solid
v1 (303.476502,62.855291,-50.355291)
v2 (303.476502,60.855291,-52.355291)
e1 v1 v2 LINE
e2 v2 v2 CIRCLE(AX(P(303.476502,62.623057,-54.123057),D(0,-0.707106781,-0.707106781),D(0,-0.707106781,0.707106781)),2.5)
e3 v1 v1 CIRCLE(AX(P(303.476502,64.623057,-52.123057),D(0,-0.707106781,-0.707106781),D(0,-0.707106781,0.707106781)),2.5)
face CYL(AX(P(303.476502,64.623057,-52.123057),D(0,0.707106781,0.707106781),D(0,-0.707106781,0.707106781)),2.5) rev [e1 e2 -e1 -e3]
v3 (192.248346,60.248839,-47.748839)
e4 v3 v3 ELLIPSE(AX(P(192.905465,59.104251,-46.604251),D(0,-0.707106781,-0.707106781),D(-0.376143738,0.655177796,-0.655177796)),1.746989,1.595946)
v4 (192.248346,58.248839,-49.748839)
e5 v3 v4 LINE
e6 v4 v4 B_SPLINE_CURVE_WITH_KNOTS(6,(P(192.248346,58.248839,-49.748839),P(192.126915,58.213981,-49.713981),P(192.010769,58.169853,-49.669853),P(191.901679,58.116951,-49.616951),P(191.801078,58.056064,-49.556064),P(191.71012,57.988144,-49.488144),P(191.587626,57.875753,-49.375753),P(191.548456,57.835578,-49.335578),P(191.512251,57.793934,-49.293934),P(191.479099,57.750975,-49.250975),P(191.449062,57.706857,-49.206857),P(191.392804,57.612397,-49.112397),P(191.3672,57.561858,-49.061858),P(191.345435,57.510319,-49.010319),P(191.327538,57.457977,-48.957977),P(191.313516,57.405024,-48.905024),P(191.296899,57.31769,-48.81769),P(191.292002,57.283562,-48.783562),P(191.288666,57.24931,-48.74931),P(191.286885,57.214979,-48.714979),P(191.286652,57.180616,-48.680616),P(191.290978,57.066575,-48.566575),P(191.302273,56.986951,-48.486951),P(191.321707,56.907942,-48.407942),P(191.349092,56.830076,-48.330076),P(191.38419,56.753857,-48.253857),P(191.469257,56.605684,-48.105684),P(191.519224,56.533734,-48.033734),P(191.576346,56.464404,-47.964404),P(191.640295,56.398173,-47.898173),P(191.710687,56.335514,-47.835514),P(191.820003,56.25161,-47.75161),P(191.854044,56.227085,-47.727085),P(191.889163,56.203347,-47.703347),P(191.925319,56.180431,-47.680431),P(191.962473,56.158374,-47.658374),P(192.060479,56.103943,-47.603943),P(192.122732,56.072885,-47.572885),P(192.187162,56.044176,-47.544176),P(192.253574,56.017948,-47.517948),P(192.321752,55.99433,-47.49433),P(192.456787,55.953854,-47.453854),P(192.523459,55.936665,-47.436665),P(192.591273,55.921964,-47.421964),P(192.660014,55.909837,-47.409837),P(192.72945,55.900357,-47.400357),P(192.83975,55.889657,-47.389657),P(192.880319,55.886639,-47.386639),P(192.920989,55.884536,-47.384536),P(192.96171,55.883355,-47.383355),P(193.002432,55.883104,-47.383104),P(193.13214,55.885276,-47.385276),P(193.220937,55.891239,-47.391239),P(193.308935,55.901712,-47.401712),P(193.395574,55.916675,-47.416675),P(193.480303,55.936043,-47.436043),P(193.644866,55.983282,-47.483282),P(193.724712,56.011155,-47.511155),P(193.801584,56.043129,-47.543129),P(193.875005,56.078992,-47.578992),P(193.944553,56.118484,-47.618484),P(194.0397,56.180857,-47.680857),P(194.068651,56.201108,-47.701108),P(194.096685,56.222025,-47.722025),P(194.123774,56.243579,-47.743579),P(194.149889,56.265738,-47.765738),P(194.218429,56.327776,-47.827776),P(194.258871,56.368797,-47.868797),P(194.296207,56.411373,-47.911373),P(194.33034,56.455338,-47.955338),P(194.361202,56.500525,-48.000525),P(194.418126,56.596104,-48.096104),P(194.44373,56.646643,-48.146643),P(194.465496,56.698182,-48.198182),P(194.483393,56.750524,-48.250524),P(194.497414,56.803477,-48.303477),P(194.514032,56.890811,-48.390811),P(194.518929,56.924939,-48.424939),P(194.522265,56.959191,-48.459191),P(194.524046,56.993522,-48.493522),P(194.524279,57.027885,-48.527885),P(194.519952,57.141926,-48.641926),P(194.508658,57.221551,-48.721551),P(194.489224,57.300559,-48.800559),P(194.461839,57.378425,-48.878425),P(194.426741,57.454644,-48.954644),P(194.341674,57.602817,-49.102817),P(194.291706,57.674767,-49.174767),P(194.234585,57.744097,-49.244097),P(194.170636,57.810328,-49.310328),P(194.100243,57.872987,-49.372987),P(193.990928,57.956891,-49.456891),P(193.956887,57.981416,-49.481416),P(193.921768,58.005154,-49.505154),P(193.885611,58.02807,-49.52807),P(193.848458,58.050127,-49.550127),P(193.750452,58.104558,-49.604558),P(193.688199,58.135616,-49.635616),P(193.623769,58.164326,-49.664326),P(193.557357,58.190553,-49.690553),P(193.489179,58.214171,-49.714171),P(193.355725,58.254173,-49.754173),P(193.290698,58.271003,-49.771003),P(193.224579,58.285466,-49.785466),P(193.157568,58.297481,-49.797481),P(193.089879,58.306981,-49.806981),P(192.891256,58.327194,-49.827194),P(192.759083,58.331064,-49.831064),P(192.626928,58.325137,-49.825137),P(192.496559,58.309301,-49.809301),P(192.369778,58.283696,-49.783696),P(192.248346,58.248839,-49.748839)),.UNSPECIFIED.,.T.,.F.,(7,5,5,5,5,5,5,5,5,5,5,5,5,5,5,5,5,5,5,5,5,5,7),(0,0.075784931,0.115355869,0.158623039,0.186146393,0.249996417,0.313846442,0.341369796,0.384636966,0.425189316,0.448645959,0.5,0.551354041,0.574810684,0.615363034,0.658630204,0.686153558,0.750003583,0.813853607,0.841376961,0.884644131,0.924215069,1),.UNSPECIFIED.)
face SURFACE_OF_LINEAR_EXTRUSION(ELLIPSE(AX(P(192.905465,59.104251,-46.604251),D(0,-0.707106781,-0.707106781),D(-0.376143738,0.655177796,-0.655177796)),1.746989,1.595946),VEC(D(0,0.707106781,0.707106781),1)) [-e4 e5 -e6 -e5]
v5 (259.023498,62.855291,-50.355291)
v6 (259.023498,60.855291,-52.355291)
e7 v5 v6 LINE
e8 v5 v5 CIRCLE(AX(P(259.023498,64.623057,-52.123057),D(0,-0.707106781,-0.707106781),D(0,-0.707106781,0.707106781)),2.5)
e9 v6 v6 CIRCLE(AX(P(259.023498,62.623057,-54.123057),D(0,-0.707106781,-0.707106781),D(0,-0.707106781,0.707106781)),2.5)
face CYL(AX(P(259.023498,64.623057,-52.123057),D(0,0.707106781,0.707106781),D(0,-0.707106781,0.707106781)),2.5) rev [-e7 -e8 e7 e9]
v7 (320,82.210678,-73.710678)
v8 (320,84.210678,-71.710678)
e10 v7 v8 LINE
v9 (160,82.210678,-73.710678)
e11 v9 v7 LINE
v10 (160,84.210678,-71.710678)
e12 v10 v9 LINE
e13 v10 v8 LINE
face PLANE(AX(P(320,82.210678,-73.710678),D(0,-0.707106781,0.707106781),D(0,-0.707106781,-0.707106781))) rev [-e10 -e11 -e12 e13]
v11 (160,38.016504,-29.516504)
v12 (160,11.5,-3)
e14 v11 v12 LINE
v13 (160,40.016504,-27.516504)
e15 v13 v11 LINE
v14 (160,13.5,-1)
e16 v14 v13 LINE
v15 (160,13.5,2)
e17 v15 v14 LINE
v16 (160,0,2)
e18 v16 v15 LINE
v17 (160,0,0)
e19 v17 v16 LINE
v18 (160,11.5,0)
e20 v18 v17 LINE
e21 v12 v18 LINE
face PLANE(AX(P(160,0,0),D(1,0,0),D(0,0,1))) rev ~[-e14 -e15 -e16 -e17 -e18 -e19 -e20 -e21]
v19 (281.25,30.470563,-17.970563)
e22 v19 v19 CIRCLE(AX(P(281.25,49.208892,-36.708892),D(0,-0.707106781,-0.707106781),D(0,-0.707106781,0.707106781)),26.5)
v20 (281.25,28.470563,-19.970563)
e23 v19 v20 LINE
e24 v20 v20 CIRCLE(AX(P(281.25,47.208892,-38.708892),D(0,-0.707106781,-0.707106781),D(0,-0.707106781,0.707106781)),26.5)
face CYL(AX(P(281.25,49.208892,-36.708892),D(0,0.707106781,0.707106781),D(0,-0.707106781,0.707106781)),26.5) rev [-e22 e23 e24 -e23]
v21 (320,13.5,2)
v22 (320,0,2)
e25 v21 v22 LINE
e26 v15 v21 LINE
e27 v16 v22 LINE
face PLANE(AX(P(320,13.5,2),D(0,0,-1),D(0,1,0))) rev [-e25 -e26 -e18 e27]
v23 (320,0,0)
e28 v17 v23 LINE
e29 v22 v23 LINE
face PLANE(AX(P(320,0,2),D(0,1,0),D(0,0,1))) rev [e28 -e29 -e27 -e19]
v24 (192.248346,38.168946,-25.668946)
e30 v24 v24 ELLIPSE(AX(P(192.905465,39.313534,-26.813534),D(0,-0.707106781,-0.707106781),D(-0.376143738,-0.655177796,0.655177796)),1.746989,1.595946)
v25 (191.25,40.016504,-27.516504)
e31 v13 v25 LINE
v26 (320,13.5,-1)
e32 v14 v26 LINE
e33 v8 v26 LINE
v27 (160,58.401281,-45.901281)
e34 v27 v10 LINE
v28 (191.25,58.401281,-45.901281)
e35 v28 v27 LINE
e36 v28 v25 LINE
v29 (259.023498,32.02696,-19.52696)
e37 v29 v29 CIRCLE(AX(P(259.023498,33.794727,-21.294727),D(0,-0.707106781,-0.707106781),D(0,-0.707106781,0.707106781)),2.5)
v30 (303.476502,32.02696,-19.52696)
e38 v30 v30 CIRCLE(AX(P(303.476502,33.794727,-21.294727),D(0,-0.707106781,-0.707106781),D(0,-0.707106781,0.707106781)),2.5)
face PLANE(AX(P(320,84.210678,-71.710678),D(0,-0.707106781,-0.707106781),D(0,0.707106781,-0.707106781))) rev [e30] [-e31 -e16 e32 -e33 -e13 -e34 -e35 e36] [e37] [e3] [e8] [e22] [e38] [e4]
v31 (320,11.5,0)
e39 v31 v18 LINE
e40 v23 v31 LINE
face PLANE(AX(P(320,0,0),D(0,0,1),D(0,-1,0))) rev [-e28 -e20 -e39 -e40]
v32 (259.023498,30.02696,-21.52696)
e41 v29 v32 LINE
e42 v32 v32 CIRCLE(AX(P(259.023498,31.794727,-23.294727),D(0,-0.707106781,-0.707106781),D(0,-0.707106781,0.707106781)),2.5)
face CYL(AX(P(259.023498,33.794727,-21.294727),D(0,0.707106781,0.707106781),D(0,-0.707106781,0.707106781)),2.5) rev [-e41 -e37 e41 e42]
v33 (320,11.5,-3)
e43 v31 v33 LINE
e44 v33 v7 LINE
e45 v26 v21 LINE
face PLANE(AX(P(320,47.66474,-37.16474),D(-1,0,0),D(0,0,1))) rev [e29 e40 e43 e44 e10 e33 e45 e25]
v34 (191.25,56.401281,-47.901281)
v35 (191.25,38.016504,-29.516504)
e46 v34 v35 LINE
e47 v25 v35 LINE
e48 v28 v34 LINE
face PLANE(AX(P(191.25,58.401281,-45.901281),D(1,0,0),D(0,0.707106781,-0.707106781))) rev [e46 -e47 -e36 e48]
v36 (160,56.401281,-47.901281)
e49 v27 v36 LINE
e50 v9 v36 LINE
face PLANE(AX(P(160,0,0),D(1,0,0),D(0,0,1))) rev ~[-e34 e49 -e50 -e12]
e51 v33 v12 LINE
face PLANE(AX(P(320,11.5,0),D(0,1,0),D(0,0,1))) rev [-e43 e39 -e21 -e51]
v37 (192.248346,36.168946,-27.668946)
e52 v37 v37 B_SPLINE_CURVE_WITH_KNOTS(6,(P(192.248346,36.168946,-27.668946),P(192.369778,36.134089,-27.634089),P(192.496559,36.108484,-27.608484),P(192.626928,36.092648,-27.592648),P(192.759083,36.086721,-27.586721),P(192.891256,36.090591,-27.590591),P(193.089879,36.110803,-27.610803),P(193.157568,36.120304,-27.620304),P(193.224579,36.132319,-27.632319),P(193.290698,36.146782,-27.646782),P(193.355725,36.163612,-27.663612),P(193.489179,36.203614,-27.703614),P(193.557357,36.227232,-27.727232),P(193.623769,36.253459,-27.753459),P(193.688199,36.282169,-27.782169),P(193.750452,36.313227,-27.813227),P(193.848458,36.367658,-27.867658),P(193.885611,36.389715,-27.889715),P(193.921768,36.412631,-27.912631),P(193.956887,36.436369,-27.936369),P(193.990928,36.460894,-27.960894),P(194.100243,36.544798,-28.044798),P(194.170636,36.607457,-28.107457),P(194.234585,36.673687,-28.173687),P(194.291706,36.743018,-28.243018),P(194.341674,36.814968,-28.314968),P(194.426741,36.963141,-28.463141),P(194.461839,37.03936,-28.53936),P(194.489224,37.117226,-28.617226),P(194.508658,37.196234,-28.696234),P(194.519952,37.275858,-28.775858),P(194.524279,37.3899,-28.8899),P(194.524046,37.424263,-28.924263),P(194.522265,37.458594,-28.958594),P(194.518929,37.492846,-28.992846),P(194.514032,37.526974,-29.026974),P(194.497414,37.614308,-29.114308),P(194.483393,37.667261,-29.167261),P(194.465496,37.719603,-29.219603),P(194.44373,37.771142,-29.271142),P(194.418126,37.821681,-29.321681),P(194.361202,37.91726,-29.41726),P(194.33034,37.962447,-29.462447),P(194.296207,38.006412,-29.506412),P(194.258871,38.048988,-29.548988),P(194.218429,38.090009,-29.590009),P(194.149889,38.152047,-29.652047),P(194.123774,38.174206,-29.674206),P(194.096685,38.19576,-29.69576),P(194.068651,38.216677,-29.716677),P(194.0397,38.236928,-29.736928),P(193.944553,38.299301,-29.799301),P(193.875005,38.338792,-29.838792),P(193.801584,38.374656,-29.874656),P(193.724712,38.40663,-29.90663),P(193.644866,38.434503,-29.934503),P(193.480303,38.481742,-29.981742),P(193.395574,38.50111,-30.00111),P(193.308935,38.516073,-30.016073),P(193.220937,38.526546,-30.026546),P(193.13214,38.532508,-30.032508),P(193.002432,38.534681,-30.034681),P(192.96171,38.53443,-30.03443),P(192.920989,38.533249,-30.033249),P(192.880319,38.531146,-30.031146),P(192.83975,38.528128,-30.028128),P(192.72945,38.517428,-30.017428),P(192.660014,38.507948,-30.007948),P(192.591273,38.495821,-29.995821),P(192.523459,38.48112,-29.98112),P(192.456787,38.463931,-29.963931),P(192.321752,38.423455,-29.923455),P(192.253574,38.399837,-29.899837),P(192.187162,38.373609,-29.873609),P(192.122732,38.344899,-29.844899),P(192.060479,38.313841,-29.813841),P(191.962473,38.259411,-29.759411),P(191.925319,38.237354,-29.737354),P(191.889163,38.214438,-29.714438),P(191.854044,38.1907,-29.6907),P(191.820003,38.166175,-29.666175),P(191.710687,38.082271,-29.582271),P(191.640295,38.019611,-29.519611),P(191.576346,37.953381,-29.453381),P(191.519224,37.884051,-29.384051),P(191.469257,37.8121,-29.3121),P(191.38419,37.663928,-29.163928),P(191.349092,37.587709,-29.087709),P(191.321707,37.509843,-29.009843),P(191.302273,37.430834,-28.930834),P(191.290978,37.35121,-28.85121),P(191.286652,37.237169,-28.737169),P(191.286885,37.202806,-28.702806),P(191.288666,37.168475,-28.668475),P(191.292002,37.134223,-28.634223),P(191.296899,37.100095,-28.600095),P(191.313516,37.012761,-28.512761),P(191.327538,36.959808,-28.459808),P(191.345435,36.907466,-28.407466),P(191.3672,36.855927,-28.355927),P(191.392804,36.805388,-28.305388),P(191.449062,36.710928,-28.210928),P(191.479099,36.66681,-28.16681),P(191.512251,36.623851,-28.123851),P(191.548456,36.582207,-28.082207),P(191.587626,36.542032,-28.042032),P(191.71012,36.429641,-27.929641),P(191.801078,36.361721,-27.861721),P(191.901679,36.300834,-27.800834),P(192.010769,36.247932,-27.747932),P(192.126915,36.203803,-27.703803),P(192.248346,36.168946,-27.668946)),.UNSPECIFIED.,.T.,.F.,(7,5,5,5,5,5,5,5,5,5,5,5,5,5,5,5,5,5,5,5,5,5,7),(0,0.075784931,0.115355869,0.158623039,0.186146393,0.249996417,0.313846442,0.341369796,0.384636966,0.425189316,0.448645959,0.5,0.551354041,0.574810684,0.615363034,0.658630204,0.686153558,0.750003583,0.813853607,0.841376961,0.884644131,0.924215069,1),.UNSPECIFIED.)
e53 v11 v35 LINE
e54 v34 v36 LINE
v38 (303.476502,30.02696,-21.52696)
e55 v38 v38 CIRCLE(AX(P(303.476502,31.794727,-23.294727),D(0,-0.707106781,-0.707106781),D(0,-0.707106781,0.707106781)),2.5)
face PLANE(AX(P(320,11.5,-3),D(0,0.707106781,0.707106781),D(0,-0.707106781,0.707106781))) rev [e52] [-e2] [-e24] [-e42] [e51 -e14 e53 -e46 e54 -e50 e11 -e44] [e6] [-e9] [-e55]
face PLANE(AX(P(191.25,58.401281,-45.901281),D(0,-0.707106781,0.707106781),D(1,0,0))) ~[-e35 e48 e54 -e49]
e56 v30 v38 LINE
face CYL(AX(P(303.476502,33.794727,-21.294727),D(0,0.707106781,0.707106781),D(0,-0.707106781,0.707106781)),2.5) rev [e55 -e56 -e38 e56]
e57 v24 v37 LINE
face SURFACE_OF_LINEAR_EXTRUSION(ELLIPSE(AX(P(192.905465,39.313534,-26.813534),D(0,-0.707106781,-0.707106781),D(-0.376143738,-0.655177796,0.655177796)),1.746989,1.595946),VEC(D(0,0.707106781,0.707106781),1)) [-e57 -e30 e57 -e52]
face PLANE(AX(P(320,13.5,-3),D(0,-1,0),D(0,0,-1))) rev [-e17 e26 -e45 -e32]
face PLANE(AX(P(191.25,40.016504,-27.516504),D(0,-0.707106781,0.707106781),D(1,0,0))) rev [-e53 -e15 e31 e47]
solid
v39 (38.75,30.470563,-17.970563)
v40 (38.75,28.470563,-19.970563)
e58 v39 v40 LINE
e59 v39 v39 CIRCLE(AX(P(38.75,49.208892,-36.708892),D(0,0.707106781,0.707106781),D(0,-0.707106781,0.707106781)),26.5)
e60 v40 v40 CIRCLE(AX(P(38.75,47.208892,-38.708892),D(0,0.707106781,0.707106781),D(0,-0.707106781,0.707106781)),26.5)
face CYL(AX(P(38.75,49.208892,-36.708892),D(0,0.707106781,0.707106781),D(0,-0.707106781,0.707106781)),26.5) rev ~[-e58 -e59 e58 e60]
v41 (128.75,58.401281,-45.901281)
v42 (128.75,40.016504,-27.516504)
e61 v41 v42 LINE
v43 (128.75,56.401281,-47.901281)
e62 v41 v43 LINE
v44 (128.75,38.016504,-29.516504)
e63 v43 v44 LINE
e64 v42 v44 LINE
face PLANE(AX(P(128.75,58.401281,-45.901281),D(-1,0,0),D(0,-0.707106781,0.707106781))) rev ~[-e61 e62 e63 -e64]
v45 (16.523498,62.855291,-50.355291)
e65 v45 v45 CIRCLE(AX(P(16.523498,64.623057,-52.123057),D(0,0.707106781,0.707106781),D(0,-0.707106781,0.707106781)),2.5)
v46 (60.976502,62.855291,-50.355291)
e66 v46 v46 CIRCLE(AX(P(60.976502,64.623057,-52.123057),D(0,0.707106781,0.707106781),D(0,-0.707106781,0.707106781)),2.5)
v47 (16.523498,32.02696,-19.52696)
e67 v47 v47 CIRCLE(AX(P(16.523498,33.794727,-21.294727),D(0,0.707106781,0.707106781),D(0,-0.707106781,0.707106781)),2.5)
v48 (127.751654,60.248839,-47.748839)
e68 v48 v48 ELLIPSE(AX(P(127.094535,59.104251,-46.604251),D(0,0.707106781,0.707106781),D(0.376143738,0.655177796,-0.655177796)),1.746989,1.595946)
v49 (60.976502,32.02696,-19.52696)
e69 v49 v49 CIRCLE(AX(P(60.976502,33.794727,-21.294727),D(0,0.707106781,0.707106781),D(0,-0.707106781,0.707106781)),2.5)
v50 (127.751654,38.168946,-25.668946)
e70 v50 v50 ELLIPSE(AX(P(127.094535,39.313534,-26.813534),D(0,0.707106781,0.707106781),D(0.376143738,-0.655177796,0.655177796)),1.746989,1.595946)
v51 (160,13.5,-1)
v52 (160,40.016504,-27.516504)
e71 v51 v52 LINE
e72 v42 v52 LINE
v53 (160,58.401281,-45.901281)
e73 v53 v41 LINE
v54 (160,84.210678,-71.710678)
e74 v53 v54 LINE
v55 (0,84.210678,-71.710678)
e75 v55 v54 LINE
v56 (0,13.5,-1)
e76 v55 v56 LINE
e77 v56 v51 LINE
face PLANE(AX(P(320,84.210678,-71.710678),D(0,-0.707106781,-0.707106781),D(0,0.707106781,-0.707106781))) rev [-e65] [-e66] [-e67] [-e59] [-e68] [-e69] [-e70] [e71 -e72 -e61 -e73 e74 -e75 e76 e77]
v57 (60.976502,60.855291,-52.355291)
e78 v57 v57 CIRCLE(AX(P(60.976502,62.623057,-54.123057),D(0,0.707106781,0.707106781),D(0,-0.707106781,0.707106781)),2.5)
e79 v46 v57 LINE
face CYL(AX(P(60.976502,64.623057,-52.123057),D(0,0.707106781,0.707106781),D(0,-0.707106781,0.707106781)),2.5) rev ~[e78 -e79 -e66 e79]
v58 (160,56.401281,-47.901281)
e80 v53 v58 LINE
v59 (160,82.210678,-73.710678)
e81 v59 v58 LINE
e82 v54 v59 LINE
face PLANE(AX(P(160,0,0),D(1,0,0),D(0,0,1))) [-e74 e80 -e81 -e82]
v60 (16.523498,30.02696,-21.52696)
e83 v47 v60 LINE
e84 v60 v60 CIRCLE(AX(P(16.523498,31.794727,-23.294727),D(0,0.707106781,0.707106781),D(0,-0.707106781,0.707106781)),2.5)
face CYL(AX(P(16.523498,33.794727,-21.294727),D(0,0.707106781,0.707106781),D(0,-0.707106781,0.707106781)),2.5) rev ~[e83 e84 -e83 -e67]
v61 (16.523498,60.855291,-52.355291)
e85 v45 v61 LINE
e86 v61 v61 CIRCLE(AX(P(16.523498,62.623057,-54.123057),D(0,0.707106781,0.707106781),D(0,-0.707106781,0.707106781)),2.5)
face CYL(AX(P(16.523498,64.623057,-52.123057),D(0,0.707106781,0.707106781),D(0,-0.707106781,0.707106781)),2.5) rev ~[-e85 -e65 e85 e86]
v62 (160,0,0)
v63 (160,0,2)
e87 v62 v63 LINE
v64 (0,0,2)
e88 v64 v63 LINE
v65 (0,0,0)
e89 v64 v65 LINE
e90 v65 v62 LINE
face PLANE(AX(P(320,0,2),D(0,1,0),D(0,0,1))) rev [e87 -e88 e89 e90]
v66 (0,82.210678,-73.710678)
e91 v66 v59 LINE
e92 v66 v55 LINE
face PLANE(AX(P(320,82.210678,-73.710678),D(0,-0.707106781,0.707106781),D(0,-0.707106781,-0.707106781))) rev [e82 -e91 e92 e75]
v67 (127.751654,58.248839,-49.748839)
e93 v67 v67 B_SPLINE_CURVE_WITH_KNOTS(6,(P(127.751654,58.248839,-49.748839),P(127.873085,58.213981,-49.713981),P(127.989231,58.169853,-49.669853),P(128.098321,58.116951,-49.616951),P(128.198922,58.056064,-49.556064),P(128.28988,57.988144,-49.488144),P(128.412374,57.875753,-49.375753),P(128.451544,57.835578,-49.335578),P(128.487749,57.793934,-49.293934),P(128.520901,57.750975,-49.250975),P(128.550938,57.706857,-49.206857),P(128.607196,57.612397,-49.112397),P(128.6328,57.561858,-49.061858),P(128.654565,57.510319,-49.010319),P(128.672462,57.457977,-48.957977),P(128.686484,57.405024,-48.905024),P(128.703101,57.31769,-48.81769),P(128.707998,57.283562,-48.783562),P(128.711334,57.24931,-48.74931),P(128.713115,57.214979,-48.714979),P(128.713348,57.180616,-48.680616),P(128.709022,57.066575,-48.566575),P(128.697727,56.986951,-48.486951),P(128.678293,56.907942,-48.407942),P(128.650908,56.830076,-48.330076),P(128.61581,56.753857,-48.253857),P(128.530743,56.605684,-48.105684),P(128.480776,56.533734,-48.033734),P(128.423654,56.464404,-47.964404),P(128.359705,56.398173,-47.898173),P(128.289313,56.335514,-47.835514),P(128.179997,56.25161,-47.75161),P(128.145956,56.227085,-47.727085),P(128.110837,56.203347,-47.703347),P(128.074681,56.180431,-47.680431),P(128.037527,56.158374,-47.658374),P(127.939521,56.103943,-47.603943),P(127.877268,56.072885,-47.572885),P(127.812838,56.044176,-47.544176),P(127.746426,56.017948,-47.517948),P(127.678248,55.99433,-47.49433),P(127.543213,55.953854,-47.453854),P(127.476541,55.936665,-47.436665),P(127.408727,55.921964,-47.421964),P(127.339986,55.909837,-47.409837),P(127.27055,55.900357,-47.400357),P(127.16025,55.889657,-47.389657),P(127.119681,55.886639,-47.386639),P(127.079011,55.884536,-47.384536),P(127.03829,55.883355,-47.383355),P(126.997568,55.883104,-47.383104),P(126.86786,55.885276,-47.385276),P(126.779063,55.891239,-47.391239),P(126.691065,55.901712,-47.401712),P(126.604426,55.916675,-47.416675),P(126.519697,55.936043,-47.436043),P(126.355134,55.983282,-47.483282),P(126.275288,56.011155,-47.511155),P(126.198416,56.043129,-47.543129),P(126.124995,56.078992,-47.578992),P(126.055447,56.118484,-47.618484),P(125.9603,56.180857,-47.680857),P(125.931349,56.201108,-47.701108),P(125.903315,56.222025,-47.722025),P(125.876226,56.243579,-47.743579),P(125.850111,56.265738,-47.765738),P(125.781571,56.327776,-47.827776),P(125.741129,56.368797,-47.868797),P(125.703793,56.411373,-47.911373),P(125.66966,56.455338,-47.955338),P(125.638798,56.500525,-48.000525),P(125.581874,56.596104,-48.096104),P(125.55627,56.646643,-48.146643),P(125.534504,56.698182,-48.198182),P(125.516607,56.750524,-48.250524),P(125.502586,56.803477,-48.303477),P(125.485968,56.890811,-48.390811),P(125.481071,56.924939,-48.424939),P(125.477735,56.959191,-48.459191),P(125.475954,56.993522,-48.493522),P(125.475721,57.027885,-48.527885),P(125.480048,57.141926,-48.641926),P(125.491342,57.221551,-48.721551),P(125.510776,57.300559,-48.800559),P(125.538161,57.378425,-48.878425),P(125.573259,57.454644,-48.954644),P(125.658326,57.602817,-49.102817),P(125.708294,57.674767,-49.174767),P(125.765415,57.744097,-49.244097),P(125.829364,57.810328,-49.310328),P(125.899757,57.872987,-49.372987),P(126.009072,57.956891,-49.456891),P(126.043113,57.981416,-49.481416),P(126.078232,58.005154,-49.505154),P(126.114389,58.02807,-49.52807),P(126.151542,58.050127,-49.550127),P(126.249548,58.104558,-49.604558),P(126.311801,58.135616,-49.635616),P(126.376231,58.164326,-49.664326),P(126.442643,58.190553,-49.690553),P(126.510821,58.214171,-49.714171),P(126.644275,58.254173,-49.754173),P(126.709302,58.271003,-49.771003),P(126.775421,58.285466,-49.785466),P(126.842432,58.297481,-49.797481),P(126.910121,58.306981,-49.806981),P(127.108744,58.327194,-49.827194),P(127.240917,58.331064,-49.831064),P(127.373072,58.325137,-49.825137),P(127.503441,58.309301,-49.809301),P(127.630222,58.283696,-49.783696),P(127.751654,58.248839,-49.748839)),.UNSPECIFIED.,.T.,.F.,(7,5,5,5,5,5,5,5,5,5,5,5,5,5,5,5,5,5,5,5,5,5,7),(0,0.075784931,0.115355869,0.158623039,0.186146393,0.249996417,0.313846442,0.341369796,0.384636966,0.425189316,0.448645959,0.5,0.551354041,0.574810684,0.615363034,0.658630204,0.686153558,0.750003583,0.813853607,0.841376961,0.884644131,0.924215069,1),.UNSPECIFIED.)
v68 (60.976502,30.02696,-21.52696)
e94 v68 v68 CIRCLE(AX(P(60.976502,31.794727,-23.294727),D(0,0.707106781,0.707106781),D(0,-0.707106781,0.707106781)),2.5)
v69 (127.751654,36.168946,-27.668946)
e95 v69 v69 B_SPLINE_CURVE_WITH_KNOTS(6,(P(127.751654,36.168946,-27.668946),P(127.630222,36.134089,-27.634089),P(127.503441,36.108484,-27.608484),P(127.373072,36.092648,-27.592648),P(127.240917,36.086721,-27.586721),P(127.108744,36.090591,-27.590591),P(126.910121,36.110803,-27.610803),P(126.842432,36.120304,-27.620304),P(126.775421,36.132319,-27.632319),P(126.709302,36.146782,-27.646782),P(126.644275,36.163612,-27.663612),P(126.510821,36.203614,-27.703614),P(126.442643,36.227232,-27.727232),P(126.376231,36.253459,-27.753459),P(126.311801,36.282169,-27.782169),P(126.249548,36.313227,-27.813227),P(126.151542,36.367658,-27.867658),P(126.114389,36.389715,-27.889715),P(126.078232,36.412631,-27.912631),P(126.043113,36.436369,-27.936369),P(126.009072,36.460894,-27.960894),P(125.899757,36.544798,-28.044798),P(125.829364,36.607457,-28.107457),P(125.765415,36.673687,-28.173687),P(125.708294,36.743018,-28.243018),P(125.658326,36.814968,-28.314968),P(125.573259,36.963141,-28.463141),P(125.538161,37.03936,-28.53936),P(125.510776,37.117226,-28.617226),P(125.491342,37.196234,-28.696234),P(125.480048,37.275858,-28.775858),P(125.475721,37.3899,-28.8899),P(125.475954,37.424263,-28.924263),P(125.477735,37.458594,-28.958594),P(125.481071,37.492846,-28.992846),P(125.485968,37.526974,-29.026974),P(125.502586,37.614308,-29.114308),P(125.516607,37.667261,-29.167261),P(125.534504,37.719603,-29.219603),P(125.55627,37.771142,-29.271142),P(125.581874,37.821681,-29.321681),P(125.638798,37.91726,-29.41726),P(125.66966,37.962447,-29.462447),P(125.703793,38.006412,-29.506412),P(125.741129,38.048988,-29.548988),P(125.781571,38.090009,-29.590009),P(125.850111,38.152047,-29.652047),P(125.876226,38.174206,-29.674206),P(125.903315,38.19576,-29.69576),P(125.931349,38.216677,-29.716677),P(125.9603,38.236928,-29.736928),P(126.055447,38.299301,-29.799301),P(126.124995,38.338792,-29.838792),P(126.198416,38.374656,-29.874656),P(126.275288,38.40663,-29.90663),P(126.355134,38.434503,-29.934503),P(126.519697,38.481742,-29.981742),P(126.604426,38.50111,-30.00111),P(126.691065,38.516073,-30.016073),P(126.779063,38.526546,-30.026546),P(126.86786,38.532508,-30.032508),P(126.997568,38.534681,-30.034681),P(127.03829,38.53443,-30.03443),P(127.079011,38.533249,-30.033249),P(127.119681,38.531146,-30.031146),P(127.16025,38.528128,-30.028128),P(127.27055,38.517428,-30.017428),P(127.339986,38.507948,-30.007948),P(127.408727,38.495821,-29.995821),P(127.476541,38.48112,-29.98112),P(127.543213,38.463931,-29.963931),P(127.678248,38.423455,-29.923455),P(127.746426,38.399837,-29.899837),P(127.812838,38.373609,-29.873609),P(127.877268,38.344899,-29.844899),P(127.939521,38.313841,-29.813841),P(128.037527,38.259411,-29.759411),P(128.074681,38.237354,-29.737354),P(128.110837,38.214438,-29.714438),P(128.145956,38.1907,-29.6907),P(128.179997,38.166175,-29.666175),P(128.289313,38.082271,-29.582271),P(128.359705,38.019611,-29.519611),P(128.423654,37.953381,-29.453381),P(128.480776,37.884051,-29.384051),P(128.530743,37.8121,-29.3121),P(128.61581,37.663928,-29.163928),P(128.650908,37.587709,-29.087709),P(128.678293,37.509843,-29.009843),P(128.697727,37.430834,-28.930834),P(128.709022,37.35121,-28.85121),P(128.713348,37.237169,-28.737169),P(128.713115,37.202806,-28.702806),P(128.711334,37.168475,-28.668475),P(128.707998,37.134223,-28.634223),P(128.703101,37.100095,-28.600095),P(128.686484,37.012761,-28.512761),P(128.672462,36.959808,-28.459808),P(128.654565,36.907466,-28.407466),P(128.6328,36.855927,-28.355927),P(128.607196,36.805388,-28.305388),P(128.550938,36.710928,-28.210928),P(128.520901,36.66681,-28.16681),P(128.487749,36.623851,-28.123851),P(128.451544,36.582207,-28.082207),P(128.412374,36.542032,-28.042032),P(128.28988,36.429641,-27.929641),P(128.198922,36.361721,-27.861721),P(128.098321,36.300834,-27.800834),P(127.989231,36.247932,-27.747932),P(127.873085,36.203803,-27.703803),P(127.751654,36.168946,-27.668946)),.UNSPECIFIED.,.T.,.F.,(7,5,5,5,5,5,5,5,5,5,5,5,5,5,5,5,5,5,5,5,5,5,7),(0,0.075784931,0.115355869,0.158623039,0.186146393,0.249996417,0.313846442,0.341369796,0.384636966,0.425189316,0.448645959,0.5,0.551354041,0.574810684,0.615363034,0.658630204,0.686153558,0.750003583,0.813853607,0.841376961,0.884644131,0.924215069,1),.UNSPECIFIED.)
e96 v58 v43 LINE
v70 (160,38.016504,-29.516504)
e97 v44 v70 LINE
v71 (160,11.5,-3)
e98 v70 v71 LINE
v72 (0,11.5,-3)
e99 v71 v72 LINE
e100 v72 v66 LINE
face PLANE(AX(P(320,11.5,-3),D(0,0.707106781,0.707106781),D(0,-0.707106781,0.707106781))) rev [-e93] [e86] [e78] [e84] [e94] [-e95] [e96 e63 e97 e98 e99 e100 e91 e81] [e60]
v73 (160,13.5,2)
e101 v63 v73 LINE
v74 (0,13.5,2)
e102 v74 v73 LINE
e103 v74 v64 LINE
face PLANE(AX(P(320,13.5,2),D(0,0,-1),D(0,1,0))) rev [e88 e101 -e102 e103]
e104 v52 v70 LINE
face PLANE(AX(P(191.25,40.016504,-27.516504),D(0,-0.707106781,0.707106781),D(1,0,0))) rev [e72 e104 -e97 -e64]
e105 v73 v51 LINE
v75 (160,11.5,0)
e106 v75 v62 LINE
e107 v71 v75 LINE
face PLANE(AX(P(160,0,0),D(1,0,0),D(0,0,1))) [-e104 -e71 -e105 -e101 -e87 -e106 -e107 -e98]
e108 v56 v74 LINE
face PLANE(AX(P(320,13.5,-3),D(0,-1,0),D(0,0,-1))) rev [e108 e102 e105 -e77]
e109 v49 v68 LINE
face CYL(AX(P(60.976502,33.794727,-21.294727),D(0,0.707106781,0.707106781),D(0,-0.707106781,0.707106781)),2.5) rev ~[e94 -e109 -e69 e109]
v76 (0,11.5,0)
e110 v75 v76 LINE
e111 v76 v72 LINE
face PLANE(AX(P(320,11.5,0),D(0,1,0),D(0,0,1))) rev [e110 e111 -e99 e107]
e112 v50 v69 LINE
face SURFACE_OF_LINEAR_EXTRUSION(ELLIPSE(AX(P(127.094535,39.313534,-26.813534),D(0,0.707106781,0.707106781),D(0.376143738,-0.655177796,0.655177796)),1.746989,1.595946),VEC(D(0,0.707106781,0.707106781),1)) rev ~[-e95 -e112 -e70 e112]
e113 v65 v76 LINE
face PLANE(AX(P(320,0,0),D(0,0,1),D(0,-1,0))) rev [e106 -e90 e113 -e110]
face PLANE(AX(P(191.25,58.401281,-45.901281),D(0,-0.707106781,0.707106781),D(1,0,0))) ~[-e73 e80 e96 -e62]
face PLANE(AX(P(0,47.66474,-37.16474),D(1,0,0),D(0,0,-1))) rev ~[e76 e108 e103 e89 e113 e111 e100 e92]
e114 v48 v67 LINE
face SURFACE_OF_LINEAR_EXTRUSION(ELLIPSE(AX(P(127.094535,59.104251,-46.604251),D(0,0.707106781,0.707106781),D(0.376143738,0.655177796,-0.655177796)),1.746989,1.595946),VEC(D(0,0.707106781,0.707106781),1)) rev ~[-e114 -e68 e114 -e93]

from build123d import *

# Parameters (mm, degrees)
BOSS_EXTRUDE1_DEPTH = 160
BOSS_EXTRUDE2_DEPTH = 160
SKETCH4_W           = 31.25
SKETCH4_H           = 13.5
SKETCH4_H_2         = 12.5
CUT_EXTRUDE1_DEPTH  = 10
SKETCH5_RX          = 1.746988937
SKETCH5_RY          = 1.595946068
CUT_EXTRUDE2_DEPTH  = 10
SKETCH6_R           = 26.5
CUT_EXTRUDE3_DEPTH  = 10
SKETCH7_R           = 2.5
CUT_EXTRUDE4_DEPTH  = 10


with BuildPart() as part:
    # Sketch1 → Boss-Extrude1 (new body)
    with BuildSketch(Plane(origin=(0, 0, 0), x_dir=(0, 0, -1), z_dir=(1, 0, 0))):
        Polygon((0, 0), (0, 11.5), (3, 11.5), (3, 13.5), (-2, 13.5), (-2, 0), align=None)
    extrude(amount=BOSS_EXTRUDE1_DEPTH)

    # Sketch2 → Boss-Extrude2 (add)
    with BuildSketch(Plane(origin=(0, 0, 0), x_dir=(0, 0, -1), z_dir=(1, 0, 0))):
        Polygon((3, 13.5), (3, 11.5), (24.213203436, 32.713203436), (73.710678119, 82.210678119), (71.710678119, 84.210678119), (22.213203436, 34.713203436), (1, 13.5), align=None)
    extrude(amount=BOSS_EXTRUDE2_DEPTH)

    # Sketch4 → Cut-Extrude1 (cut)
    with BuildSketch(Plane(origin=(0, 6.25, 6.25), x_dir=(1, 0, 0), z_dir=(0, 0.7071067811865477, 0.7071067811865475))):
        with Locations((144.375, 67.003048327)):
            Rectangle(SKETCH4_W, SKETCH4_H)
        with Locations((144.375, 54.003048327)):
            Rectangle(SKETCH4_W, SKETCH4_H_2)
    extrude(amount=-CUT_EXTRUDE1_DEPTH, mode=Mode.SUBTRACT)

    # Sketch5 → Cut-Extrude2 (cut)
    with BuildSketch(Plane(origin=(0, 6.25, 6.25), x_dir=(1, 0, 0), z_dir=(0, 0.7071067811865477, 0.7071067811865475))):
        with Locations(Location((127.094534644, 74.747197969), (0, 0, 67.904979496))):
            Ellipse(SKETCH5_RX, SKETCH5_RY)
        with Locations(Location((127.094534644, 46.758898685), (0, 0, -67.904979496))):
            Ellipse(SKETCH5_RX, SKETCH5_RY)
    extrude(amount=-CUT_EXTRUDE2_DEPTH, mode=Mode.SUBTRACT)

    # Sketch6 → Cut-Extrude3 (cut)
    with BuildSketch(Plane(origin=(0, 6.25, 6.25), x_dir=(1, 0, 0), z_dir=(0, 0.7071067811865477, 0.7071067811865475))):
        with Locations(Location((38.75, 60.753048327, 0), (0, 0, 270))):
            Circle(SKETCH6_R)
    extrude(amount=-CUT_EXTRUDE3_DEPTH, mode=Mode.SUBTRACT)

    # Sketch7 → Cut-Extrude4 (cut)
    with BuildSketch(Plane(origin=(0, 6.25, 6.25), x_dir=(1, 0, 0), z_dir=(0, 0.7071067811865477, 0.7071067811865475))):
        with Locations(Location((16.523498497, 82.551969583, 0), (0, 0, 270))):
            Circle(SKETCH7_R)
        with Locations(Location((60.976501503, 82.551969583, 0), (0, 0, 270))):
            Circle(SKETCH7_R)
        with Locations(Location((60.976501503, 38.954127071, 0), (0, 0, 270))):
            Circle(SKETCH7_R)
        with Locations(Location((16.523498497, 38.954127071, 0), (0, 0, 270))):
            Circle(SKETCH7_R)
    extrude(amount=-CUT_EXTRUDE4_DEPTH, mode=Mode.SUBTRACT)

    # Mirror4: part across plane


with BuildPart() as part_1:
    add(part.part)
    add(part.part.mirror(Plane(origin=(160, 0, 0), x_dir=(0, 0, 1), z_dir=(1, 0, 0))))


with BuildPart() as body_2:
    # Split2: the piece on the far side of the plane
    add(part_1.part)
    split(bisect_by=Plane(origin=(160, 0, 0), x_dir=(0, 0, 1), z_dir=(1, 0, 0)), keep=Keep.BOTTOM)


with BuildPart() as part_2:
    add(part_1.part)

    # Split2
    split(bisect_by=Plane(origin=(160, 0, 0), x_dir=(0, 0, 1), z_dir=(1, 0, 0)), keep=Keep.TOP)


solid = Compound([body_2.part, part_2.part])
